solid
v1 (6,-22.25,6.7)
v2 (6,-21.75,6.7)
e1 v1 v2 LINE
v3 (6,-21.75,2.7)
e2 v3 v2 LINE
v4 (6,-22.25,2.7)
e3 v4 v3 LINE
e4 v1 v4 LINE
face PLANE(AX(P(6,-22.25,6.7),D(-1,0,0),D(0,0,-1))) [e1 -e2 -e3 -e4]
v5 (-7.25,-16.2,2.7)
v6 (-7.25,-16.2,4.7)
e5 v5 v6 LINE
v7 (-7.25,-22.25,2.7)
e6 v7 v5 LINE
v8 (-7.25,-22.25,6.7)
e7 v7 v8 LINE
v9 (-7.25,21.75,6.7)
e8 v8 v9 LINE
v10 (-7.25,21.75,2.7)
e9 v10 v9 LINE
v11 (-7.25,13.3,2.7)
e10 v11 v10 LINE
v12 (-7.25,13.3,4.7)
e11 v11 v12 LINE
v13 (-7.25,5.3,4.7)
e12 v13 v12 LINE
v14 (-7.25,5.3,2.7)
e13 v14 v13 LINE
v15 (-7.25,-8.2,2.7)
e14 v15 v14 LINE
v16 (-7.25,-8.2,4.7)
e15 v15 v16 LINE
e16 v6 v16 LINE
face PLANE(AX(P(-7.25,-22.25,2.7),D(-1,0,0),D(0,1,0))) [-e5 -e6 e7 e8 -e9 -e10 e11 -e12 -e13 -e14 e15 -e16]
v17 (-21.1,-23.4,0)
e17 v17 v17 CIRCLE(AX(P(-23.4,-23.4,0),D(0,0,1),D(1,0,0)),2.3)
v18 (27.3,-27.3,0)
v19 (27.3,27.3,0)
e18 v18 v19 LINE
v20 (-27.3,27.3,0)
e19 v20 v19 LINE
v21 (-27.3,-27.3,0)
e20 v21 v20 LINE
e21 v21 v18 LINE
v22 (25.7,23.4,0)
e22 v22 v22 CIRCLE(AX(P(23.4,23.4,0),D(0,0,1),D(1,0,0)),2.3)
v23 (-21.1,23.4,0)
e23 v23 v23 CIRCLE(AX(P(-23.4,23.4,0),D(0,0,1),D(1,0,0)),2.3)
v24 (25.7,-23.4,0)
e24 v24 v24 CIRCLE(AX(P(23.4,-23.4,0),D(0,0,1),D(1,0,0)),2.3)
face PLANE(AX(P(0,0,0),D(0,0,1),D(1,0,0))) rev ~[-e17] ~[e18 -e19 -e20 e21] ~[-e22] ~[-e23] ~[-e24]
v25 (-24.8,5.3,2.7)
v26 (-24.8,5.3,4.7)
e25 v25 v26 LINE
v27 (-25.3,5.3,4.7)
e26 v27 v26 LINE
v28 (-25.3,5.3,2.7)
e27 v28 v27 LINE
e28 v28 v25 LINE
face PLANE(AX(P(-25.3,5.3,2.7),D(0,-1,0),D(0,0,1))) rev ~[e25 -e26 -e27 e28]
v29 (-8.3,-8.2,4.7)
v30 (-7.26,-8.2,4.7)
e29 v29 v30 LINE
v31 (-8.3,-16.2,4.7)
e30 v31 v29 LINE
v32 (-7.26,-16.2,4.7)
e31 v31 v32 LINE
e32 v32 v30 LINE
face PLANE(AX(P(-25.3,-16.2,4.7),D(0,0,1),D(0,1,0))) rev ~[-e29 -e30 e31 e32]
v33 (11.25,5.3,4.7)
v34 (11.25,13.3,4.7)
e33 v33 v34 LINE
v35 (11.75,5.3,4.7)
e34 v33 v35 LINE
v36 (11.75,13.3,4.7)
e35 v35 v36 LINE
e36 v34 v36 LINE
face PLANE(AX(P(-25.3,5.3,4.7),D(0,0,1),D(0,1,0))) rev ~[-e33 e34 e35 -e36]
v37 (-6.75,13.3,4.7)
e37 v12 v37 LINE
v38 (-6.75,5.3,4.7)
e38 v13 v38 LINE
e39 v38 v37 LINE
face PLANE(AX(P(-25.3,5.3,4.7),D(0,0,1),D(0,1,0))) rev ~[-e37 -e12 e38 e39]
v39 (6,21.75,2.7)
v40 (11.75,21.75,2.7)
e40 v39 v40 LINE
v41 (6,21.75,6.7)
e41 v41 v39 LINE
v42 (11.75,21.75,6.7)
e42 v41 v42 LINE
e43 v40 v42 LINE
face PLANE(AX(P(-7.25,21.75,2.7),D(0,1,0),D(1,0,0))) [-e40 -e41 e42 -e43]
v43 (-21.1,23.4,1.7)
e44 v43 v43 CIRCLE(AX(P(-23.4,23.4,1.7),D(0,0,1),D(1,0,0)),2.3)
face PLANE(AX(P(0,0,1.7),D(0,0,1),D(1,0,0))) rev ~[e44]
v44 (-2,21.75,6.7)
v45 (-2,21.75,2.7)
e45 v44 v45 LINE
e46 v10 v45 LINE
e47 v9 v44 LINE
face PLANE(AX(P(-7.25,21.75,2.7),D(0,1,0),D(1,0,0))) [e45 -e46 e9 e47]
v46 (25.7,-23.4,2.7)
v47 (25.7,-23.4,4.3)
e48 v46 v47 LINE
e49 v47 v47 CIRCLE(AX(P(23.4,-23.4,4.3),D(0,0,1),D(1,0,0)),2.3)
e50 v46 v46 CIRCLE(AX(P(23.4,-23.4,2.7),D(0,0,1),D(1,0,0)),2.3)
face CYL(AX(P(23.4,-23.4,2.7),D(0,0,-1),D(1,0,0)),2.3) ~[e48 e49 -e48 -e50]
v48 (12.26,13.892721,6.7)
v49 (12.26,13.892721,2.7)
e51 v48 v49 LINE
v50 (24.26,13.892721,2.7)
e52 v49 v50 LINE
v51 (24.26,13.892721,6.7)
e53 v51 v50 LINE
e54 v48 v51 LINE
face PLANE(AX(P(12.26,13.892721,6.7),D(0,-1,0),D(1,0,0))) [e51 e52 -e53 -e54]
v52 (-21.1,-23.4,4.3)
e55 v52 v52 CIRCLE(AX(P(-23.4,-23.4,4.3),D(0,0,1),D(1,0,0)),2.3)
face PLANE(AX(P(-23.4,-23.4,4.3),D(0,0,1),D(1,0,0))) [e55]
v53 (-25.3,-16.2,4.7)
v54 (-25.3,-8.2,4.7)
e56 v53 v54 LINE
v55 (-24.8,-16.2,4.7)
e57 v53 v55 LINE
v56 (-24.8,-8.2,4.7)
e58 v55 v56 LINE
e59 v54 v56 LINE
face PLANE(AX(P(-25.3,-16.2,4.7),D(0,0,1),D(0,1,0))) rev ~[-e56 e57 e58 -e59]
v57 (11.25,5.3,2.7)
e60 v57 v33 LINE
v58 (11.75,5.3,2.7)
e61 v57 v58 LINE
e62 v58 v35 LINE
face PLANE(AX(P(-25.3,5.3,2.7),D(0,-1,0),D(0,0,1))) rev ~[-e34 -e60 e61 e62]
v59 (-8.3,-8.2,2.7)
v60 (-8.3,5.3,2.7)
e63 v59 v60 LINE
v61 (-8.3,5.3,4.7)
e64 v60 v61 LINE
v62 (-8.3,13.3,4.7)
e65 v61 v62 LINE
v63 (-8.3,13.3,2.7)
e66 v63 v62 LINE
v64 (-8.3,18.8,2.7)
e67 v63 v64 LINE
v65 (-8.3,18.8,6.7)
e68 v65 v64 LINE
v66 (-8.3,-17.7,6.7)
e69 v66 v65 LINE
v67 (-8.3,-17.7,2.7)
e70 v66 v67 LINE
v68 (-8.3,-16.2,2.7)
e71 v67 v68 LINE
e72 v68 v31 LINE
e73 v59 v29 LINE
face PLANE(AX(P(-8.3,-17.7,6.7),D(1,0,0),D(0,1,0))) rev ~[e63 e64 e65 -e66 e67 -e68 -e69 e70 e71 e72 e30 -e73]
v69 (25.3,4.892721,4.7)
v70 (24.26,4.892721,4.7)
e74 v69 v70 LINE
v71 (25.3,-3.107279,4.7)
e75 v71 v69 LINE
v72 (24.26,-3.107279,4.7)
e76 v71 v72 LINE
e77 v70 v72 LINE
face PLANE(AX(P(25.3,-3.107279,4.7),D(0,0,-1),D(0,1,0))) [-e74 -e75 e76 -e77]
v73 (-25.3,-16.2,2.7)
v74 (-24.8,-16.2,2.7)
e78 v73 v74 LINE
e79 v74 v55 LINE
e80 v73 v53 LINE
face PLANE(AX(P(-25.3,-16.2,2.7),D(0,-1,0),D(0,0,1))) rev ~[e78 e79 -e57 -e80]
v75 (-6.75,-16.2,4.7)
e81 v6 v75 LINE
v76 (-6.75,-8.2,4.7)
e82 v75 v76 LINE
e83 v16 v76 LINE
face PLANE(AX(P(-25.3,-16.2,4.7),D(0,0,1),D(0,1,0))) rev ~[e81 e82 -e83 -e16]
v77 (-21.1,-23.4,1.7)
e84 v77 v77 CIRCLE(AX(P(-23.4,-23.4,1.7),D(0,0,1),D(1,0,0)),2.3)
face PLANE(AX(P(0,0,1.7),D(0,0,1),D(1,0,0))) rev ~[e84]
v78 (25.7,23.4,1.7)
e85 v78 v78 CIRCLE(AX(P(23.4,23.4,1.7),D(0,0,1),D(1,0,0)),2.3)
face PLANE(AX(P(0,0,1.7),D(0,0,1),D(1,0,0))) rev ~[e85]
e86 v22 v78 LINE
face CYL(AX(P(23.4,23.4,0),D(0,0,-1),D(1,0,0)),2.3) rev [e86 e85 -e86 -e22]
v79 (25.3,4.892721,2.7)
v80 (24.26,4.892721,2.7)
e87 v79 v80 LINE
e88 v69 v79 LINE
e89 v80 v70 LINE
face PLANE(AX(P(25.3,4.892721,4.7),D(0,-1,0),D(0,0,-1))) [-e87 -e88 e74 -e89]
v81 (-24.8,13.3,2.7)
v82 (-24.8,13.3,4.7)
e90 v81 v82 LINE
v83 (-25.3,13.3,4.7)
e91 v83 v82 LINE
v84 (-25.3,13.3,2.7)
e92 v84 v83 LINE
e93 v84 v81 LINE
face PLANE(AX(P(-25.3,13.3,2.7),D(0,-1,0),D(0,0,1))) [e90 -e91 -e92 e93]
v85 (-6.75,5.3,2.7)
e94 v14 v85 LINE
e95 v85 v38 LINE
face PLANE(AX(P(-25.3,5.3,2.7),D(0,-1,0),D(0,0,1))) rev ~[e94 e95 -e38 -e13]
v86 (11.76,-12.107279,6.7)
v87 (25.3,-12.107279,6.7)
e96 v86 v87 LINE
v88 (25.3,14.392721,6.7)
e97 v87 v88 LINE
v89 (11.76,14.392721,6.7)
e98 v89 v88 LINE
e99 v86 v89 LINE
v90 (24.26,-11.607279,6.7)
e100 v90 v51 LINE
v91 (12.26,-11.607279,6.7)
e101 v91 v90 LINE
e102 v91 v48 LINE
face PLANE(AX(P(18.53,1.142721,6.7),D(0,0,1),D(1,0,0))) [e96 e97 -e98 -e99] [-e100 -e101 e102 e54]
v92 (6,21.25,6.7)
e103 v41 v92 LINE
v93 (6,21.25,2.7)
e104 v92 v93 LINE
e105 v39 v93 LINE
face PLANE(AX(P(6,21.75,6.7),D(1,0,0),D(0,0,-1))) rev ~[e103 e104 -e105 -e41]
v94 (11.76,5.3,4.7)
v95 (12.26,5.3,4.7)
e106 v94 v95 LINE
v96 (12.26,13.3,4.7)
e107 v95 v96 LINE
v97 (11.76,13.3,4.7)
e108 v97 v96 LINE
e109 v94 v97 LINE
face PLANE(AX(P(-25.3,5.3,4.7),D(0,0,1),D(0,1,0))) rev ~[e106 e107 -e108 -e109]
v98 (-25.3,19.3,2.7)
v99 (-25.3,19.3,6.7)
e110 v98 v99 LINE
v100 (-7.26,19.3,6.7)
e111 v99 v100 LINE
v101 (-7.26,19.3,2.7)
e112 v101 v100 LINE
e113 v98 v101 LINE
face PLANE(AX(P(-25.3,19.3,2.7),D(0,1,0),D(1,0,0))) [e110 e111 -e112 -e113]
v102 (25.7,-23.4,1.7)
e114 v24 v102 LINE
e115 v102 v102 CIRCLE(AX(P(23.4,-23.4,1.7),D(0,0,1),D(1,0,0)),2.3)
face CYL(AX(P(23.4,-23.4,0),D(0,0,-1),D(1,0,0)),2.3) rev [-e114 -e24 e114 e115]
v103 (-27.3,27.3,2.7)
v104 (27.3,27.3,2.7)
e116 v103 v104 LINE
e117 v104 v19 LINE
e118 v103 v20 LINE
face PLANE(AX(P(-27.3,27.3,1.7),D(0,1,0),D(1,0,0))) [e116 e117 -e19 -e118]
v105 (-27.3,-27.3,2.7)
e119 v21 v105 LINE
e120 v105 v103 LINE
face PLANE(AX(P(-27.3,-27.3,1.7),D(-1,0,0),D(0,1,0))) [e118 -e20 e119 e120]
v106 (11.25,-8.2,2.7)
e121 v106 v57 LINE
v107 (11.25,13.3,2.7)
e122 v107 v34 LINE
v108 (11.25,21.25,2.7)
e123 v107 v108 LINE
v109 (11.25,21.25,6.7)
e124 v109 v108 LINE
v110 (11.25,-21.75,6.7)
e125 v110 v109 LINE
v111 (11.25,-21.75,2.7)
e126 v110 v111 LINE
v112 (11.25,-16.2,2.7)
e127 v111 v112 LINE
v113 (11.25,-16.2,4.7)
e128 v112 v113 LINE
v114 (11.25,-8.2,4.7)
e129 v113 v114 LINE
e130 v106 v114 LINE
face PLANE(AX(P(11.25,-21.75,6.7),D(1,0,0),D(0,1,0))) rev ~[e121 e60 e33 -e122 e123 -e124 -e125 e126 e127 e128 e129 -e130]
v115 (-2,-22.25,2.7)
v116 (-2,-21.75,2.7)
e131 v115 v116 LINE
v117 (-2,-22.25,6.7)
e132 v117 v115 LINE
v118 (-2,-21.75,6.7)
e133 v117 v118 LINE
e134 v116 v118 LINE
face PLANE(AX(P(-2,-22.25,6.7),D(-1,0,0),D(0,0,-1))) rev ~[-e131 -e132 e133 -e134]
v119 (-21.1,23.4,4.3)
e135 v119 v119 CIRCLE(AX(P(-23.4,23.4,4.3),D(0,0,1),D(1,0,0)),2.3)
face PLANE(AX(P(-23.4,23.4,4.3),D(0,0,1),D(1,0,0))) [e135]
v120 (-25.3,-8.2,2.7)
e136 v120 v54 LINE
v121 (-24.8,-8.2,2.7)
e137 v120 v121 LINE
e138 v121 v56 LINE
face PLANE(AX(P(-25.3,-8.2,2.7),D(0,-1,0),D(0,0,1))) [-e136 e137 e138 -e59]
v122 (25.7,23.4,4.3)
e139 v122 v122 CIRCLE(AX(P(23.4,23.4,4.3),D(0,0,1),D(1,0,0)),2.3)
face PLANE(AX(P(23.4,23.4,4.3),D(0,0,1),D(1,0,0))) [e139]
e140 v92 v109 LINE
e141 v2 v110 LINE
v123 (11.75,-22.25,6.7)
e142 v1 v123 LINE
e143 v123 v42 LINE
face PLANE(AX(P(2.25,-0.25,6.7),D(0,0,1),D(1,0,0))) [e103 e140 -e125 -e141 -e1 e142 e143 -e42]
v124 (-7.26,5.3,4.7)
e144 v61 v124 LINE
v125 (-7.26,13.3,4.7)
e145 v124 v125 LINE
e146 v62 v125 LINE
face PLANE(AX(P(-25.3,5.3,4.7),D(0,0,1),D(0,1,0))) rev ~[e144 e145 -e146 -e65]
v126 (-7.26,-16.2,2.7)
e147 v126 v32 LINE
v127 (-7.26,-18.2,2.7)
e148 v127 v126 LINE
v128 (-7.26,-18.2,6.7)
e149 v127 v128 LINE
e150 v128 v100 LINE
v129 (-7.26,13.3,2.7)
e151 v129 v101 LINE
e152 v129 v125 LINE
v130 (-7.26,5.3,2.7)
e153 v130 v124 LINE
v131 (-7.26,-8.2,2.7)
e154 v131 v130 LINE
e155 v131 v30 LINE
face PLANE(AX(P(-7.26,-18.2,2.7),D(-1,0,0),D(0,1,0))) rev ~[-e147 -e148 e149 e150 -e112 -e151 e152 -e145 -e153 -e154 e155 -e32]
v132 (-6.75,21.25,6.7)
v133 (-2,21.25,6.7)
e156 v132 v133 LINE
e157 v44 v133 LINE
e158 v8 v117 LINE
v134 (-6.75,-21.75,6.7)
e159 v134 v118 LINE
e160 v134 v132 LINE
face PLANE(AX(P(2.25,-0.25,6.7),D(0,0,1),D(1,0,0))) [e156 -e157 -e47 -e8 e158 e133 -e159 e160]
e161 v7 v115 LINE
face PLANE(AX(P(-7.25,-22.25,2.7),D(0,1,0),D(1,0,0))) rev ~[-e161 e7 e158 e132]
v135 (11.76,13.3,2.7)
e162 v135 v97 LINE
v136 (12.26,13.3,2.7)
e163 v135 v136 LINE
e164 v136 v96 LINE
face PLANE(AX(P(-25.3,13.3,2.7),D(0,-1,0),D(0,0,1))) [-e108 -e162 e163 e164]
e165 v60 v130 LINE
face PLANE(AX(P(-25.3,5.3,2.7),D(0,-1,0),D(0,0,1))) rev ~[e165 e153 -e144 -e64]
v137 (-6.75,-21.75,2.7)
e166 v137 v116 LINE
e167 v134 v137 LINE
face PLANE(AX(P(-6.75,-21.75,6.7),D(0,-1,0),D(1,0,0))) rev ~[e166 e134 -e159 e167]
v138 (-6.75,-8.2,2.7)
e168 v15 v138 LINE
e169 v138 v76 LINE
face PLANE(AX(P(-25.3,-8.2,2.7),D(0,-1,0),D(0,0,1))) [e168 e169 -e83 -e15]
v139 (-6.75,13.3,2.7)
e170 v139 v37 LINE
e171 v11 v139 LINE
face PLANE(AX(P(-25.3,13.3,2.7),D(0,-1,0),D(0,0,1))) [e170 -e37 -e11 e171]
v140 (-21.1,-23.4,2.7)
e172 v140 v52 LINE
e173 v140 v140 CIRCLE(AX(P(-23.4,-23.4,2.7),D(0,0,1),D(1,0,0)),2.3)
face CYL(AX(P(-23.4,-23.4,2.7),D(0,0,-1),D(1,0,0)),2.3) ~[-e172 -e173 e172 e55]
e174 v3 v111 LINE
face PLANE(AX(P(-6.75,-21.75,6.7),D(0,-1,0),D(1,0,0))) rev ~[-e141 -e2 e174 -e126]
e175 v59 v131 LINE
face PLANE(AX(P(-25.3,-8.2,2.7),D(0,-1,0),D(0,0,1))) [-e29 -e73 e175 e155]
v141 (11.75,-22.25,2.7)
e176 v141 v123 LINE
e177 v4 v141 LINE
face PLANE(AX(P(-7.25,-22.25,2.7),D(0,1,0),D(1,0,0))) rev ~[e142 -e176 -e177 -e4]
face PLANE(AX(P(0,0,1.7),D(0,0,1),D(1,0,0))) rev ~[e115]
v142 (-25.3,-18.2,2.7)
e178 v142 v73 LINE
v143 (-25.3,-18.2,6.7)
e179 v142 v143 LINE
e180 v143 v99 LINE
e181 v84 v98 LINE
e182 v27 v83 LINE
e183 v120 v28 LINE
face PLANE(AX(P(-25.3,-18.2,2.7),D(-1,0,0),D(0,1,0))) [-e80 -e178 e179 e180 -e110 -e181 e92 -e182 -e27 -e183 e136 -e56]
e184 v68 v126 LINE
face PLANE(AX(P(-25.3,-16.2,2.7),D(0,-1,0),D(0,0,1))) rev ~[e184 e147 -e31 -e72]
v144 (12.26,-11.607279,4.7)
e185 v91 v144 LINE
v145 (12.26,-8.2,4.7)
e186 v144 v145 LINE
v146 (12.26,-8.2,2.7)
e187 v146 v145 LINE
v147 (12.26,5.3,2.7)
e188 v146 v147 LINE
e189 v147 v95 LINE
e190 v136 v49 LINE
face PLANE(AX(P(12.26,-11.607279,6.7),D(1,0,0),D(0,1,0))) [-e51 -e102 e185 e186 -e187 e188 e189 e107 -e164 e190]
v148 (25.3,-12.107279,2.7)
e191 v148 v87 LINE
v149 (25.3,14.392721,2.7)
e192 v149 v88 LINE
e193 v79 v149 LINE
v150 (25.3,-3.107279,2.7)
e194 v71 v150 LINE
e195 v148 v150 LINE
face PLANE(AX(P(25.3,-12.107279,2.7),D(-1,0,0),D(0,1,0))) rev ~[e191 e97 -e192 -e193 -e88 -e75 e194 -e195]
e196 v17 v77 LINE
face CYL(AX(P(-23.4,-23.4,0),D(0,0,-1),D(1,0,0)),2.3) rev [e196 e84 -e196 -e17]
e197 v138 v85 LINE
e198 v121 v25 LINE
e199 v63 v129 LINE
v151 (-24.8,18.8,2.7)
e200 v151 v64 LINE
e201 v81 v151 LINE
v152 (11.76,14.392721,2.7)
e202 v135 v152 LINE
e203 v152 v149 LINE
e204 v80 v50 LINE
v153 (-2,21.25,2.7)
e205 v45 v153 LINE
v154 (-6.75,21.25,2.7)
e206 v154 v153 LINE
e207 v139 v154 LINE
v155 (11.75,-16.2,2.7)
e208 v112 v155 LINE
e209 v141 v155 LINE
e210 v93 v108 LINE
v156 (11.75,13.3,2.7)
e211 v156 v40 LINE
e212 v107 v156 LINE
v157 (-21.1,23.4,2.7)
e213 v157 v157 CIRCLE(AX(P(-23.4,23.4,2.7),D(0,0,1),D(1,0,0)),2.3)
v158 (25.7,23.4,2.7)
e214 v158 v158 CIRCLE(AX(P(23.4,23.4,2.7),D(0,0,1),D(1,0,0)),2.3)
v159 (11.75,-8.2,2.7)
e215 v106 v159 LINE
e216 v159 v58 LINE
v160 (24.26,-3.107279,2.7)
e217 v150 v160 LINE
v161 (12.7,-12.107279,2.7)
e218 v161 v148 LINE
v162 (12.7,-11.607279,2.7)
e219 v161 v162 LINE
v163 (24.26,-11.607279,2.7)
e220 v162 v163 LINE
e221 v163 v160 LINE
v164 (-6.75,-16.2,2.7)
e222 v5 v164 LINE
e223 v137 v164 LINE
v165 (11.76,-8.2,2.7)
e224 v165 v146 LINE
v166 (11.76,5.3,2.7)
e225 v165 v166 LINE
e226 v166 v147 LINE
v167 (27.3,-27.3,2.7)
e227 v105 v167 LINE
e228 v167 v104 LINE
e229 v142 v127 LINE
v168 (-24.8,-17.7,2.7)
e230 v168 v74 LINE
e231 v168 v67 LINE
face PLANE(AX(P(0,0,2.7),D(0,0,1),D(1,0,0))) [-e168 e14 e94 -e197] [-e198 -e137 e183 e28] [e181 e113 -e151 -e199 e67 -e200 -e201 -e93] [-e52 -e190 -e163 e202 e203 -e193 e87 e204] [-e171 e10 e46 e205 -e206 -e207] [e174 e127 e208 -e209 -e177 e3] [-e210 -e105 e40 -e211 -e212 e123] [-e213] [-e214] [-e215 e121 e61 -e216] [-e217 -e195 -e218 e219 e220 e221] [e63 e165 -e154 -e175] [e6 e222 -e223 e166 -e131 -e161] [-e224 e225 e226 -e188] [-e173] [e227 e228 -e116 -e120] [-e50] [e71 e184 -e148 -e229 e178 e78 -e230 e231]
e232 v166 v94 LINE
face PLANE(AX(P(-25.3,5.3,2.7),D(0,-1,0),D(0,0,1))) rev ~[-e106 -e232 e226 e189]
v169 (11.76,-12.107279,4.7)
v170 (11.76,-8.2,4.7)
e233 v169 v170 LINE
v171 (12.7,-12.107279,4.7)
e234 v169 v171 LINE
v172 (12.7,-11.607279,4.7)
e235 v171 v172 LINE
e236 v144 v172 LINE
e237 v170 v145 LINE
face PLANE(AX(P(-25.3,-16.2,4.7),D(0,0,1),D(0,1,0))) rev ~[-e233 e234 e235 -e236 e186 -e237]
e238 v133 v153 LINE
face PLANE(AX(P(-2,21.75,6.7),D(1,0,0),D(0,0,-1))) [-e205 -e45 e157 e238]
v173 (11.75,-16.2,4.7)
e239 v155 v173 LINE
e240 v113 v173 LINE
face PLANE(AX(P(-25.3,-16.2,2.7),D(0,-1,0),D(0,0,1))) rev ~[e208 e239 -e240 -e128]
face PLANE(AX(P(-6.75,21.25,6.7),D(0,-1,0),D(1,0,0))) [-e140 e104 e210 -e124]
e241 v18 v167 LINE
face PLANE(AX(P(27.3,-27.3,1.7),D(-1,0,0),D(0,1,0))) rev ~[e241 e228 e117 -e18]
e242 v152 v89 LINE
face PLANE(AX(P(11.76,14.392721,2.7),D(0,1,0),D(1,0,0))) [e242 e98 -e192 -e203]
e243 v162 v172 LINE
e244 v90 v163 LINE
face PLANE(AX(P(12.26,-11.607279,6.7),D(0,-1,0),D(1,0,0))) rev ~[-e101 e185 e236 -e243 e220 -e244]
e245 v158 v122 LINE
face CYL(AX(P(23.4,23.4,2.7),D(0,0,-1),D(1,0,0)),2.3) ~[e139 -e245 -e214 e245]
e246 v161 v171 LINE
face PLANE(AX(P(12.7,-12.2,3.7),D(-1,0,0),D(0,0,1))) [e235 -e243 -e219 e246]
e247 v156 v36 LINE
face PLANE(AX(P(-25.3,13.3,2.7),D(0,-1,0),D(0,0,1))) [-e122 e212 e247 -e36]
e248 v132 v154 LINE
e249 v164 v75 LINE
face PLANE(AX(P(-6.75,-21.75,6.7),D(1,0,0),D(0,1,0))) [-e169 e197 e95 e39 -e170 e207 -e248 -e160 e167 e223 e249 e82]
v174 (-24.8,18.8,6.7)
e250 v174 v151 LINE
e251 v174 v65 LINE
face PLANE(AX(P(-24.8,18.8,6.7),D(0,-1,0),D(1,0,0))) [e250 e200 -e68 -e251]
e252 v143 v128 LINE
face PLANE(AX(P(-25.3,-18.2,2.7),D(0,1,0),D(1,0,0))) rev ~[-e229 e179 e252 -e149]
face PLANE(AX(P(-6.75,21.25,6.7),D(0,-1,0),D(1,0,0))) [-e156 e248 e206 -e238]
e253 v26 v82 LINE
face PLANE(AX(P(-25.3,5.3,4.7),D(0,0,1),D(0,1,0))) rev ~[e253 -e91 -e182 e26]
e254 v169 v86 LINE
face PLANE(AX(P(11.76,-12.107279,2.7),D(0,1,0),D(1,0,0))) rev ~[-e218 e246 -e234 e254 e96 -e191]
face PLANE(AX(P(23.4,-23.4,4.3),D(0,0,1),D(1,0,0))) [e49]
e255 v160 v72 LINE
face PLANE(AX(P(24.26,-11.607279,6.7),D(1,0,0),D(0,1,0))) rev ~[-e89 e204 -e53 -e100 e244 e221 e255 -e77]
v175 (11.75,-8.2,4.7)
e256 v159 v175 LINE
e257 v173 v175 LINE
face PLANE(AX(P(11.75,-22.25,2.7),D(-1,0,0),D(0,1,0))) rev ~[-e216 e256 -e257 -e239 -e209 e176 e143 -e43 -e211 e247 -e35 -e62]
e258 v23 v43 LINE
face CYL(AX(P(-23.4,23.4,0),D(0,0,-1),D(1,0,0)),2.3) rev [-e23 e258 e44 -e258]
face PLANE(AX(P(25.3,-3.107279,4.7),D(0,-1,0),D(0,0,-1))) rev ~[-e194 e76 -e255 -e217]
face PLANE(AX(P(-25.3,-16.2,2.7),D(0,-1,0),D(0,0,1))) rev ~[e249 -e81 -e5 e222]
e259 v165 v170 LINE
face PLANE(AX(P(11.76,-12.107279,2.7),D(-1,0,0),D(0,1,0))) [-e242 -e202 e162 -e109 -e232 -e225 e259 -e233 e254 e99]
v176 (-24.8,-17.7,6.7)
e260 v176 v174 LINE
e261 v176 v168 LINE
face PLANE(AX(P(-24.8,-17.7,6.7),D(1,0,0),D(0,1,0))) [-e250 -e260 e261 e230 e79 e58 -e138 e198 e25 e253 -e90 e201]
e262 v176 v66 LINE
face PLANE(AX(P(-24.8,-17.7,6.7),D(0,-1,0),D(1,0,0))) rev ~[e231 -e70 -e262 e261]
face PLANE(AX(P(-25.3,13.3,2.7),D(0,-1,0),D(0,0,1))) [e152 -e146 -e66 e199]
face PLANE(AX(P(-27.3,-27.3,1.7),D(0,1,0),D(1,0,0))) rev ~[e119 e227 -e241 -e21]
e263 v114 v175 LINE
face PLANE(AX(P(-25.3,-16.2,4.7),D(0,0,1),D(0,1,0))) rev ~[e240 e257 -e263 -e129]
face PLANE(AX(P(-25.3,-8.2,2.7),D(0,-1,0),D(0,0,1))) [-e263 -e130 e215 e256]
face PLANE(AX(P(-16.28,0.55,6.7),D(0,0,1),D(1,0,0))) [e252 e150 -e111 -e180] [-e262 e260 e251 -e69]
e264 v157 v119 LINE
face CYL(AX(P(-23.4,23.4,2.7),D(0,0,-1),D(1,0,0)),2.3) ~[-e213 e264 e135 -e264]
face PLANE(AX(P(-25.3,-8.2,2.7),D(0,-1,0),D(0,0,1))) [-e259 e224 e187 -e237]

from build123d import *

# Parameters (mm, degrees)
SKICA1_W                 = 54.6
SKICA1_H                 = 54.6
SKICA1_R                 = 2.3
P_IDAT_VYSUNUT_M1_DEPTH  = 1.7
SKICA2_W                 = 54.6
SKICA2_H                 = 54.6
P_IDAT_VYSUNUT_M2_DEPTH  = 1
SKICA3_R                 = 2.3
P_IDAT_VYSUNUT_M3_DEPTH  = 1.6
SKICA4_W                 = 13.54
SKICA4_H                 = 26.5
SKICA4_W_2               = 19
SKICA4_H_2               = 44
SKICA4_W_3               = 18.04
SKICA4_H_3               = 37.5
P_IDAT_VYSUNUT_M4_DEPTH  = 4
SKICA5_W                 = 8
SKICA5_H                 = 4
ODEBRAT_VYSUNUT_M1_DEPTH = 6
SKICA6_W                 = 8
SKICA6_H                 = 4
ODEBRAT_VYSUNUT_M2_DEPTH = 6
SKICA7_W                 = 2
SKICA7_H                 = 8
ODEBRAT_VYSUNUT_M3_DEPTH = 38
SKICA8_W                 = 2
SKICA8_H                 = 8
ODEBRAT_VYSUNUT_M4_DEPTH = 13
SKICA11_W                = 16.5
SKICA11_H                = 36.5
SKICA11_W_2              = 18
SKICA11_H_2              = 43
SKICA11_W_3              = 12
SKICA11_H_3              = 25.5
ODEBRAT_VYSUNUT_M5_DEPTH = 4


with BuildPart() as part:
    # Skica1 → Přidat vysunutím1 (new body)
    with BuildSketch(Plane.XY):
        Rectangle(SKICA1_W, SKICA1_H)
        with Locations((-23.4, 23.4)):
            Circle(SKICA1_R, mode=Mode.SUBTRACT)
        with Locations((23.4, 23.4)):
            Circle(SKICA1_R, mode=Mode.SUBTRACT)
        with Locations((-23.4, -23.4)):
            Circle(SKICA1_R, mode=Mode.SUBTRACT)
        with Locations((23.4, -23.4)):
            Circle(SKICA1_R, mode=Mode.SUBTRACT)
    extrude(amount=P_IDAT_VYSUNUT_M1_DEPTH)

    # Skica2 → Přidat vysunutím2 (add)
    with BuildSketch(Plane.XY.offset(1.7)):
        Rectangle(SKICA2_W, SKICA2_H)
    extrude(amount=P_IDAT_VYSUNUT_M2_DEPTH)

    # Skica3 → Přidat vysunutím3 (add)
    with BuildSketch(Plane.XY.offset(2.7)):
        with Locations((-23.4, 23.4)):
            Circle(SKICA3_R)
        with Locations((23.4, 23.4)):
            Circle(SKICA3_R)
        with Locations((-23.4, -23.4)):
            Circle(SKICA3_R)
        with Locations((23.4, -23.4)):
            Circle(SKICA3_R)
    extrude(amount=P_IDAT_VYSUNUT_M3_DEPTH)

    # Skica4 → Přidat vysunutím4 (add)
    with BuildSketch(Plane.XY.offset(2.7)):
        with Locations((18.53, 1.14272147)):
            Rectangle(SKICA4_W, SKICA4_H)
        with Locations((2.25, -0.25)):
            Rectangle(SKICA4_W_2, SKICA4_H_2)
        with Locations((-16.28, 0.55)):
            Rectangle(SKICA4_W_3, SKICA4_H_3)
    extrude(amount=P_IDAT_VYSUNUT_M4_DEPTH)

    # Skica5 → Odebrat vysunutím1 (cut)
    with BuildSketch(Plane(origin=(0, -22.25, 0), x_dir=(-1, 0, 0), z_dir=(0, -1, 0))):
        with Locations((-2, -4.7)):
            Rectangle(SKICA5_W, SKICA5_H)
    extrude(amount=-ODEBRAT_VYSUNUT_M1_DEPTH, mode=Mode.SUBTRACT)

    # Skica6 → Odebrat vysunutím2 (cut)
    with BuildSketch(Plane(origin=(0, 21.75, 0), x_dir=(1, 0, 0), z_dir=(0, 1, 0))):
        with Locations((2, -4.7)):
            Rectangle(SKICA6_W, SKICA6_H)
    extrude(amount=-ODEBRAT_VYSUNUT_M2_DEPTH, mode=Mode.SUBTRACT)

    # Skica7 → Odebrat vysunutím3 (cut)
    with BuildSketch(Plane.ZY.offset(25.3)):
        with Locations((3.7, -12.2)):
            Rectangle(SKICA7_W, SKICA7_H)
        with Locations((3.7, 9.3)):
            Rectangle(SKICA7_W, SKICA7_H)
    extrude(amount=-ODEBRAT_VYSUNUT_M3_DEPTH, mode=Mode.SUBTRACT)

    # Skica8 → Odebrat vysunutím4 (cut)
    with BuildSketch(Plane(origin=(25.3, 0, 0), x_dir=(0, 0, -1), z_dir=(1, 0, 0))):
        with Locations((-3.7, 0.89272147)):
            Rectangle(SKICA8_W, SKICA8_H)
    extrude(amount=-ODEBRAT_VYSUNUT_M4_DEPTH, mode=Mode.SUBTRACT)

    # Skica11 → Odebrat vysunutím5 (cut)
    with BuildSketch(Plane.XY.offset(6.7)):
        with Locations((-16.55, 0.55)):
            Rectangle(SKICA11_W, SKICA11_H)
        with Locations((2.25, -0.25)):
            Rectangle(SKICA11_W_2, SKICA11_H_2)
        with Locations((18.26, 1.14272147)):
            Rectangle(SKICA11_W_3, SKICA11_H_3)
    extrude(amount=-ODEBRAT_VYSUNUT_M5_DEPTH, mode=Mode.SUBTRACT)


solid = part.part
